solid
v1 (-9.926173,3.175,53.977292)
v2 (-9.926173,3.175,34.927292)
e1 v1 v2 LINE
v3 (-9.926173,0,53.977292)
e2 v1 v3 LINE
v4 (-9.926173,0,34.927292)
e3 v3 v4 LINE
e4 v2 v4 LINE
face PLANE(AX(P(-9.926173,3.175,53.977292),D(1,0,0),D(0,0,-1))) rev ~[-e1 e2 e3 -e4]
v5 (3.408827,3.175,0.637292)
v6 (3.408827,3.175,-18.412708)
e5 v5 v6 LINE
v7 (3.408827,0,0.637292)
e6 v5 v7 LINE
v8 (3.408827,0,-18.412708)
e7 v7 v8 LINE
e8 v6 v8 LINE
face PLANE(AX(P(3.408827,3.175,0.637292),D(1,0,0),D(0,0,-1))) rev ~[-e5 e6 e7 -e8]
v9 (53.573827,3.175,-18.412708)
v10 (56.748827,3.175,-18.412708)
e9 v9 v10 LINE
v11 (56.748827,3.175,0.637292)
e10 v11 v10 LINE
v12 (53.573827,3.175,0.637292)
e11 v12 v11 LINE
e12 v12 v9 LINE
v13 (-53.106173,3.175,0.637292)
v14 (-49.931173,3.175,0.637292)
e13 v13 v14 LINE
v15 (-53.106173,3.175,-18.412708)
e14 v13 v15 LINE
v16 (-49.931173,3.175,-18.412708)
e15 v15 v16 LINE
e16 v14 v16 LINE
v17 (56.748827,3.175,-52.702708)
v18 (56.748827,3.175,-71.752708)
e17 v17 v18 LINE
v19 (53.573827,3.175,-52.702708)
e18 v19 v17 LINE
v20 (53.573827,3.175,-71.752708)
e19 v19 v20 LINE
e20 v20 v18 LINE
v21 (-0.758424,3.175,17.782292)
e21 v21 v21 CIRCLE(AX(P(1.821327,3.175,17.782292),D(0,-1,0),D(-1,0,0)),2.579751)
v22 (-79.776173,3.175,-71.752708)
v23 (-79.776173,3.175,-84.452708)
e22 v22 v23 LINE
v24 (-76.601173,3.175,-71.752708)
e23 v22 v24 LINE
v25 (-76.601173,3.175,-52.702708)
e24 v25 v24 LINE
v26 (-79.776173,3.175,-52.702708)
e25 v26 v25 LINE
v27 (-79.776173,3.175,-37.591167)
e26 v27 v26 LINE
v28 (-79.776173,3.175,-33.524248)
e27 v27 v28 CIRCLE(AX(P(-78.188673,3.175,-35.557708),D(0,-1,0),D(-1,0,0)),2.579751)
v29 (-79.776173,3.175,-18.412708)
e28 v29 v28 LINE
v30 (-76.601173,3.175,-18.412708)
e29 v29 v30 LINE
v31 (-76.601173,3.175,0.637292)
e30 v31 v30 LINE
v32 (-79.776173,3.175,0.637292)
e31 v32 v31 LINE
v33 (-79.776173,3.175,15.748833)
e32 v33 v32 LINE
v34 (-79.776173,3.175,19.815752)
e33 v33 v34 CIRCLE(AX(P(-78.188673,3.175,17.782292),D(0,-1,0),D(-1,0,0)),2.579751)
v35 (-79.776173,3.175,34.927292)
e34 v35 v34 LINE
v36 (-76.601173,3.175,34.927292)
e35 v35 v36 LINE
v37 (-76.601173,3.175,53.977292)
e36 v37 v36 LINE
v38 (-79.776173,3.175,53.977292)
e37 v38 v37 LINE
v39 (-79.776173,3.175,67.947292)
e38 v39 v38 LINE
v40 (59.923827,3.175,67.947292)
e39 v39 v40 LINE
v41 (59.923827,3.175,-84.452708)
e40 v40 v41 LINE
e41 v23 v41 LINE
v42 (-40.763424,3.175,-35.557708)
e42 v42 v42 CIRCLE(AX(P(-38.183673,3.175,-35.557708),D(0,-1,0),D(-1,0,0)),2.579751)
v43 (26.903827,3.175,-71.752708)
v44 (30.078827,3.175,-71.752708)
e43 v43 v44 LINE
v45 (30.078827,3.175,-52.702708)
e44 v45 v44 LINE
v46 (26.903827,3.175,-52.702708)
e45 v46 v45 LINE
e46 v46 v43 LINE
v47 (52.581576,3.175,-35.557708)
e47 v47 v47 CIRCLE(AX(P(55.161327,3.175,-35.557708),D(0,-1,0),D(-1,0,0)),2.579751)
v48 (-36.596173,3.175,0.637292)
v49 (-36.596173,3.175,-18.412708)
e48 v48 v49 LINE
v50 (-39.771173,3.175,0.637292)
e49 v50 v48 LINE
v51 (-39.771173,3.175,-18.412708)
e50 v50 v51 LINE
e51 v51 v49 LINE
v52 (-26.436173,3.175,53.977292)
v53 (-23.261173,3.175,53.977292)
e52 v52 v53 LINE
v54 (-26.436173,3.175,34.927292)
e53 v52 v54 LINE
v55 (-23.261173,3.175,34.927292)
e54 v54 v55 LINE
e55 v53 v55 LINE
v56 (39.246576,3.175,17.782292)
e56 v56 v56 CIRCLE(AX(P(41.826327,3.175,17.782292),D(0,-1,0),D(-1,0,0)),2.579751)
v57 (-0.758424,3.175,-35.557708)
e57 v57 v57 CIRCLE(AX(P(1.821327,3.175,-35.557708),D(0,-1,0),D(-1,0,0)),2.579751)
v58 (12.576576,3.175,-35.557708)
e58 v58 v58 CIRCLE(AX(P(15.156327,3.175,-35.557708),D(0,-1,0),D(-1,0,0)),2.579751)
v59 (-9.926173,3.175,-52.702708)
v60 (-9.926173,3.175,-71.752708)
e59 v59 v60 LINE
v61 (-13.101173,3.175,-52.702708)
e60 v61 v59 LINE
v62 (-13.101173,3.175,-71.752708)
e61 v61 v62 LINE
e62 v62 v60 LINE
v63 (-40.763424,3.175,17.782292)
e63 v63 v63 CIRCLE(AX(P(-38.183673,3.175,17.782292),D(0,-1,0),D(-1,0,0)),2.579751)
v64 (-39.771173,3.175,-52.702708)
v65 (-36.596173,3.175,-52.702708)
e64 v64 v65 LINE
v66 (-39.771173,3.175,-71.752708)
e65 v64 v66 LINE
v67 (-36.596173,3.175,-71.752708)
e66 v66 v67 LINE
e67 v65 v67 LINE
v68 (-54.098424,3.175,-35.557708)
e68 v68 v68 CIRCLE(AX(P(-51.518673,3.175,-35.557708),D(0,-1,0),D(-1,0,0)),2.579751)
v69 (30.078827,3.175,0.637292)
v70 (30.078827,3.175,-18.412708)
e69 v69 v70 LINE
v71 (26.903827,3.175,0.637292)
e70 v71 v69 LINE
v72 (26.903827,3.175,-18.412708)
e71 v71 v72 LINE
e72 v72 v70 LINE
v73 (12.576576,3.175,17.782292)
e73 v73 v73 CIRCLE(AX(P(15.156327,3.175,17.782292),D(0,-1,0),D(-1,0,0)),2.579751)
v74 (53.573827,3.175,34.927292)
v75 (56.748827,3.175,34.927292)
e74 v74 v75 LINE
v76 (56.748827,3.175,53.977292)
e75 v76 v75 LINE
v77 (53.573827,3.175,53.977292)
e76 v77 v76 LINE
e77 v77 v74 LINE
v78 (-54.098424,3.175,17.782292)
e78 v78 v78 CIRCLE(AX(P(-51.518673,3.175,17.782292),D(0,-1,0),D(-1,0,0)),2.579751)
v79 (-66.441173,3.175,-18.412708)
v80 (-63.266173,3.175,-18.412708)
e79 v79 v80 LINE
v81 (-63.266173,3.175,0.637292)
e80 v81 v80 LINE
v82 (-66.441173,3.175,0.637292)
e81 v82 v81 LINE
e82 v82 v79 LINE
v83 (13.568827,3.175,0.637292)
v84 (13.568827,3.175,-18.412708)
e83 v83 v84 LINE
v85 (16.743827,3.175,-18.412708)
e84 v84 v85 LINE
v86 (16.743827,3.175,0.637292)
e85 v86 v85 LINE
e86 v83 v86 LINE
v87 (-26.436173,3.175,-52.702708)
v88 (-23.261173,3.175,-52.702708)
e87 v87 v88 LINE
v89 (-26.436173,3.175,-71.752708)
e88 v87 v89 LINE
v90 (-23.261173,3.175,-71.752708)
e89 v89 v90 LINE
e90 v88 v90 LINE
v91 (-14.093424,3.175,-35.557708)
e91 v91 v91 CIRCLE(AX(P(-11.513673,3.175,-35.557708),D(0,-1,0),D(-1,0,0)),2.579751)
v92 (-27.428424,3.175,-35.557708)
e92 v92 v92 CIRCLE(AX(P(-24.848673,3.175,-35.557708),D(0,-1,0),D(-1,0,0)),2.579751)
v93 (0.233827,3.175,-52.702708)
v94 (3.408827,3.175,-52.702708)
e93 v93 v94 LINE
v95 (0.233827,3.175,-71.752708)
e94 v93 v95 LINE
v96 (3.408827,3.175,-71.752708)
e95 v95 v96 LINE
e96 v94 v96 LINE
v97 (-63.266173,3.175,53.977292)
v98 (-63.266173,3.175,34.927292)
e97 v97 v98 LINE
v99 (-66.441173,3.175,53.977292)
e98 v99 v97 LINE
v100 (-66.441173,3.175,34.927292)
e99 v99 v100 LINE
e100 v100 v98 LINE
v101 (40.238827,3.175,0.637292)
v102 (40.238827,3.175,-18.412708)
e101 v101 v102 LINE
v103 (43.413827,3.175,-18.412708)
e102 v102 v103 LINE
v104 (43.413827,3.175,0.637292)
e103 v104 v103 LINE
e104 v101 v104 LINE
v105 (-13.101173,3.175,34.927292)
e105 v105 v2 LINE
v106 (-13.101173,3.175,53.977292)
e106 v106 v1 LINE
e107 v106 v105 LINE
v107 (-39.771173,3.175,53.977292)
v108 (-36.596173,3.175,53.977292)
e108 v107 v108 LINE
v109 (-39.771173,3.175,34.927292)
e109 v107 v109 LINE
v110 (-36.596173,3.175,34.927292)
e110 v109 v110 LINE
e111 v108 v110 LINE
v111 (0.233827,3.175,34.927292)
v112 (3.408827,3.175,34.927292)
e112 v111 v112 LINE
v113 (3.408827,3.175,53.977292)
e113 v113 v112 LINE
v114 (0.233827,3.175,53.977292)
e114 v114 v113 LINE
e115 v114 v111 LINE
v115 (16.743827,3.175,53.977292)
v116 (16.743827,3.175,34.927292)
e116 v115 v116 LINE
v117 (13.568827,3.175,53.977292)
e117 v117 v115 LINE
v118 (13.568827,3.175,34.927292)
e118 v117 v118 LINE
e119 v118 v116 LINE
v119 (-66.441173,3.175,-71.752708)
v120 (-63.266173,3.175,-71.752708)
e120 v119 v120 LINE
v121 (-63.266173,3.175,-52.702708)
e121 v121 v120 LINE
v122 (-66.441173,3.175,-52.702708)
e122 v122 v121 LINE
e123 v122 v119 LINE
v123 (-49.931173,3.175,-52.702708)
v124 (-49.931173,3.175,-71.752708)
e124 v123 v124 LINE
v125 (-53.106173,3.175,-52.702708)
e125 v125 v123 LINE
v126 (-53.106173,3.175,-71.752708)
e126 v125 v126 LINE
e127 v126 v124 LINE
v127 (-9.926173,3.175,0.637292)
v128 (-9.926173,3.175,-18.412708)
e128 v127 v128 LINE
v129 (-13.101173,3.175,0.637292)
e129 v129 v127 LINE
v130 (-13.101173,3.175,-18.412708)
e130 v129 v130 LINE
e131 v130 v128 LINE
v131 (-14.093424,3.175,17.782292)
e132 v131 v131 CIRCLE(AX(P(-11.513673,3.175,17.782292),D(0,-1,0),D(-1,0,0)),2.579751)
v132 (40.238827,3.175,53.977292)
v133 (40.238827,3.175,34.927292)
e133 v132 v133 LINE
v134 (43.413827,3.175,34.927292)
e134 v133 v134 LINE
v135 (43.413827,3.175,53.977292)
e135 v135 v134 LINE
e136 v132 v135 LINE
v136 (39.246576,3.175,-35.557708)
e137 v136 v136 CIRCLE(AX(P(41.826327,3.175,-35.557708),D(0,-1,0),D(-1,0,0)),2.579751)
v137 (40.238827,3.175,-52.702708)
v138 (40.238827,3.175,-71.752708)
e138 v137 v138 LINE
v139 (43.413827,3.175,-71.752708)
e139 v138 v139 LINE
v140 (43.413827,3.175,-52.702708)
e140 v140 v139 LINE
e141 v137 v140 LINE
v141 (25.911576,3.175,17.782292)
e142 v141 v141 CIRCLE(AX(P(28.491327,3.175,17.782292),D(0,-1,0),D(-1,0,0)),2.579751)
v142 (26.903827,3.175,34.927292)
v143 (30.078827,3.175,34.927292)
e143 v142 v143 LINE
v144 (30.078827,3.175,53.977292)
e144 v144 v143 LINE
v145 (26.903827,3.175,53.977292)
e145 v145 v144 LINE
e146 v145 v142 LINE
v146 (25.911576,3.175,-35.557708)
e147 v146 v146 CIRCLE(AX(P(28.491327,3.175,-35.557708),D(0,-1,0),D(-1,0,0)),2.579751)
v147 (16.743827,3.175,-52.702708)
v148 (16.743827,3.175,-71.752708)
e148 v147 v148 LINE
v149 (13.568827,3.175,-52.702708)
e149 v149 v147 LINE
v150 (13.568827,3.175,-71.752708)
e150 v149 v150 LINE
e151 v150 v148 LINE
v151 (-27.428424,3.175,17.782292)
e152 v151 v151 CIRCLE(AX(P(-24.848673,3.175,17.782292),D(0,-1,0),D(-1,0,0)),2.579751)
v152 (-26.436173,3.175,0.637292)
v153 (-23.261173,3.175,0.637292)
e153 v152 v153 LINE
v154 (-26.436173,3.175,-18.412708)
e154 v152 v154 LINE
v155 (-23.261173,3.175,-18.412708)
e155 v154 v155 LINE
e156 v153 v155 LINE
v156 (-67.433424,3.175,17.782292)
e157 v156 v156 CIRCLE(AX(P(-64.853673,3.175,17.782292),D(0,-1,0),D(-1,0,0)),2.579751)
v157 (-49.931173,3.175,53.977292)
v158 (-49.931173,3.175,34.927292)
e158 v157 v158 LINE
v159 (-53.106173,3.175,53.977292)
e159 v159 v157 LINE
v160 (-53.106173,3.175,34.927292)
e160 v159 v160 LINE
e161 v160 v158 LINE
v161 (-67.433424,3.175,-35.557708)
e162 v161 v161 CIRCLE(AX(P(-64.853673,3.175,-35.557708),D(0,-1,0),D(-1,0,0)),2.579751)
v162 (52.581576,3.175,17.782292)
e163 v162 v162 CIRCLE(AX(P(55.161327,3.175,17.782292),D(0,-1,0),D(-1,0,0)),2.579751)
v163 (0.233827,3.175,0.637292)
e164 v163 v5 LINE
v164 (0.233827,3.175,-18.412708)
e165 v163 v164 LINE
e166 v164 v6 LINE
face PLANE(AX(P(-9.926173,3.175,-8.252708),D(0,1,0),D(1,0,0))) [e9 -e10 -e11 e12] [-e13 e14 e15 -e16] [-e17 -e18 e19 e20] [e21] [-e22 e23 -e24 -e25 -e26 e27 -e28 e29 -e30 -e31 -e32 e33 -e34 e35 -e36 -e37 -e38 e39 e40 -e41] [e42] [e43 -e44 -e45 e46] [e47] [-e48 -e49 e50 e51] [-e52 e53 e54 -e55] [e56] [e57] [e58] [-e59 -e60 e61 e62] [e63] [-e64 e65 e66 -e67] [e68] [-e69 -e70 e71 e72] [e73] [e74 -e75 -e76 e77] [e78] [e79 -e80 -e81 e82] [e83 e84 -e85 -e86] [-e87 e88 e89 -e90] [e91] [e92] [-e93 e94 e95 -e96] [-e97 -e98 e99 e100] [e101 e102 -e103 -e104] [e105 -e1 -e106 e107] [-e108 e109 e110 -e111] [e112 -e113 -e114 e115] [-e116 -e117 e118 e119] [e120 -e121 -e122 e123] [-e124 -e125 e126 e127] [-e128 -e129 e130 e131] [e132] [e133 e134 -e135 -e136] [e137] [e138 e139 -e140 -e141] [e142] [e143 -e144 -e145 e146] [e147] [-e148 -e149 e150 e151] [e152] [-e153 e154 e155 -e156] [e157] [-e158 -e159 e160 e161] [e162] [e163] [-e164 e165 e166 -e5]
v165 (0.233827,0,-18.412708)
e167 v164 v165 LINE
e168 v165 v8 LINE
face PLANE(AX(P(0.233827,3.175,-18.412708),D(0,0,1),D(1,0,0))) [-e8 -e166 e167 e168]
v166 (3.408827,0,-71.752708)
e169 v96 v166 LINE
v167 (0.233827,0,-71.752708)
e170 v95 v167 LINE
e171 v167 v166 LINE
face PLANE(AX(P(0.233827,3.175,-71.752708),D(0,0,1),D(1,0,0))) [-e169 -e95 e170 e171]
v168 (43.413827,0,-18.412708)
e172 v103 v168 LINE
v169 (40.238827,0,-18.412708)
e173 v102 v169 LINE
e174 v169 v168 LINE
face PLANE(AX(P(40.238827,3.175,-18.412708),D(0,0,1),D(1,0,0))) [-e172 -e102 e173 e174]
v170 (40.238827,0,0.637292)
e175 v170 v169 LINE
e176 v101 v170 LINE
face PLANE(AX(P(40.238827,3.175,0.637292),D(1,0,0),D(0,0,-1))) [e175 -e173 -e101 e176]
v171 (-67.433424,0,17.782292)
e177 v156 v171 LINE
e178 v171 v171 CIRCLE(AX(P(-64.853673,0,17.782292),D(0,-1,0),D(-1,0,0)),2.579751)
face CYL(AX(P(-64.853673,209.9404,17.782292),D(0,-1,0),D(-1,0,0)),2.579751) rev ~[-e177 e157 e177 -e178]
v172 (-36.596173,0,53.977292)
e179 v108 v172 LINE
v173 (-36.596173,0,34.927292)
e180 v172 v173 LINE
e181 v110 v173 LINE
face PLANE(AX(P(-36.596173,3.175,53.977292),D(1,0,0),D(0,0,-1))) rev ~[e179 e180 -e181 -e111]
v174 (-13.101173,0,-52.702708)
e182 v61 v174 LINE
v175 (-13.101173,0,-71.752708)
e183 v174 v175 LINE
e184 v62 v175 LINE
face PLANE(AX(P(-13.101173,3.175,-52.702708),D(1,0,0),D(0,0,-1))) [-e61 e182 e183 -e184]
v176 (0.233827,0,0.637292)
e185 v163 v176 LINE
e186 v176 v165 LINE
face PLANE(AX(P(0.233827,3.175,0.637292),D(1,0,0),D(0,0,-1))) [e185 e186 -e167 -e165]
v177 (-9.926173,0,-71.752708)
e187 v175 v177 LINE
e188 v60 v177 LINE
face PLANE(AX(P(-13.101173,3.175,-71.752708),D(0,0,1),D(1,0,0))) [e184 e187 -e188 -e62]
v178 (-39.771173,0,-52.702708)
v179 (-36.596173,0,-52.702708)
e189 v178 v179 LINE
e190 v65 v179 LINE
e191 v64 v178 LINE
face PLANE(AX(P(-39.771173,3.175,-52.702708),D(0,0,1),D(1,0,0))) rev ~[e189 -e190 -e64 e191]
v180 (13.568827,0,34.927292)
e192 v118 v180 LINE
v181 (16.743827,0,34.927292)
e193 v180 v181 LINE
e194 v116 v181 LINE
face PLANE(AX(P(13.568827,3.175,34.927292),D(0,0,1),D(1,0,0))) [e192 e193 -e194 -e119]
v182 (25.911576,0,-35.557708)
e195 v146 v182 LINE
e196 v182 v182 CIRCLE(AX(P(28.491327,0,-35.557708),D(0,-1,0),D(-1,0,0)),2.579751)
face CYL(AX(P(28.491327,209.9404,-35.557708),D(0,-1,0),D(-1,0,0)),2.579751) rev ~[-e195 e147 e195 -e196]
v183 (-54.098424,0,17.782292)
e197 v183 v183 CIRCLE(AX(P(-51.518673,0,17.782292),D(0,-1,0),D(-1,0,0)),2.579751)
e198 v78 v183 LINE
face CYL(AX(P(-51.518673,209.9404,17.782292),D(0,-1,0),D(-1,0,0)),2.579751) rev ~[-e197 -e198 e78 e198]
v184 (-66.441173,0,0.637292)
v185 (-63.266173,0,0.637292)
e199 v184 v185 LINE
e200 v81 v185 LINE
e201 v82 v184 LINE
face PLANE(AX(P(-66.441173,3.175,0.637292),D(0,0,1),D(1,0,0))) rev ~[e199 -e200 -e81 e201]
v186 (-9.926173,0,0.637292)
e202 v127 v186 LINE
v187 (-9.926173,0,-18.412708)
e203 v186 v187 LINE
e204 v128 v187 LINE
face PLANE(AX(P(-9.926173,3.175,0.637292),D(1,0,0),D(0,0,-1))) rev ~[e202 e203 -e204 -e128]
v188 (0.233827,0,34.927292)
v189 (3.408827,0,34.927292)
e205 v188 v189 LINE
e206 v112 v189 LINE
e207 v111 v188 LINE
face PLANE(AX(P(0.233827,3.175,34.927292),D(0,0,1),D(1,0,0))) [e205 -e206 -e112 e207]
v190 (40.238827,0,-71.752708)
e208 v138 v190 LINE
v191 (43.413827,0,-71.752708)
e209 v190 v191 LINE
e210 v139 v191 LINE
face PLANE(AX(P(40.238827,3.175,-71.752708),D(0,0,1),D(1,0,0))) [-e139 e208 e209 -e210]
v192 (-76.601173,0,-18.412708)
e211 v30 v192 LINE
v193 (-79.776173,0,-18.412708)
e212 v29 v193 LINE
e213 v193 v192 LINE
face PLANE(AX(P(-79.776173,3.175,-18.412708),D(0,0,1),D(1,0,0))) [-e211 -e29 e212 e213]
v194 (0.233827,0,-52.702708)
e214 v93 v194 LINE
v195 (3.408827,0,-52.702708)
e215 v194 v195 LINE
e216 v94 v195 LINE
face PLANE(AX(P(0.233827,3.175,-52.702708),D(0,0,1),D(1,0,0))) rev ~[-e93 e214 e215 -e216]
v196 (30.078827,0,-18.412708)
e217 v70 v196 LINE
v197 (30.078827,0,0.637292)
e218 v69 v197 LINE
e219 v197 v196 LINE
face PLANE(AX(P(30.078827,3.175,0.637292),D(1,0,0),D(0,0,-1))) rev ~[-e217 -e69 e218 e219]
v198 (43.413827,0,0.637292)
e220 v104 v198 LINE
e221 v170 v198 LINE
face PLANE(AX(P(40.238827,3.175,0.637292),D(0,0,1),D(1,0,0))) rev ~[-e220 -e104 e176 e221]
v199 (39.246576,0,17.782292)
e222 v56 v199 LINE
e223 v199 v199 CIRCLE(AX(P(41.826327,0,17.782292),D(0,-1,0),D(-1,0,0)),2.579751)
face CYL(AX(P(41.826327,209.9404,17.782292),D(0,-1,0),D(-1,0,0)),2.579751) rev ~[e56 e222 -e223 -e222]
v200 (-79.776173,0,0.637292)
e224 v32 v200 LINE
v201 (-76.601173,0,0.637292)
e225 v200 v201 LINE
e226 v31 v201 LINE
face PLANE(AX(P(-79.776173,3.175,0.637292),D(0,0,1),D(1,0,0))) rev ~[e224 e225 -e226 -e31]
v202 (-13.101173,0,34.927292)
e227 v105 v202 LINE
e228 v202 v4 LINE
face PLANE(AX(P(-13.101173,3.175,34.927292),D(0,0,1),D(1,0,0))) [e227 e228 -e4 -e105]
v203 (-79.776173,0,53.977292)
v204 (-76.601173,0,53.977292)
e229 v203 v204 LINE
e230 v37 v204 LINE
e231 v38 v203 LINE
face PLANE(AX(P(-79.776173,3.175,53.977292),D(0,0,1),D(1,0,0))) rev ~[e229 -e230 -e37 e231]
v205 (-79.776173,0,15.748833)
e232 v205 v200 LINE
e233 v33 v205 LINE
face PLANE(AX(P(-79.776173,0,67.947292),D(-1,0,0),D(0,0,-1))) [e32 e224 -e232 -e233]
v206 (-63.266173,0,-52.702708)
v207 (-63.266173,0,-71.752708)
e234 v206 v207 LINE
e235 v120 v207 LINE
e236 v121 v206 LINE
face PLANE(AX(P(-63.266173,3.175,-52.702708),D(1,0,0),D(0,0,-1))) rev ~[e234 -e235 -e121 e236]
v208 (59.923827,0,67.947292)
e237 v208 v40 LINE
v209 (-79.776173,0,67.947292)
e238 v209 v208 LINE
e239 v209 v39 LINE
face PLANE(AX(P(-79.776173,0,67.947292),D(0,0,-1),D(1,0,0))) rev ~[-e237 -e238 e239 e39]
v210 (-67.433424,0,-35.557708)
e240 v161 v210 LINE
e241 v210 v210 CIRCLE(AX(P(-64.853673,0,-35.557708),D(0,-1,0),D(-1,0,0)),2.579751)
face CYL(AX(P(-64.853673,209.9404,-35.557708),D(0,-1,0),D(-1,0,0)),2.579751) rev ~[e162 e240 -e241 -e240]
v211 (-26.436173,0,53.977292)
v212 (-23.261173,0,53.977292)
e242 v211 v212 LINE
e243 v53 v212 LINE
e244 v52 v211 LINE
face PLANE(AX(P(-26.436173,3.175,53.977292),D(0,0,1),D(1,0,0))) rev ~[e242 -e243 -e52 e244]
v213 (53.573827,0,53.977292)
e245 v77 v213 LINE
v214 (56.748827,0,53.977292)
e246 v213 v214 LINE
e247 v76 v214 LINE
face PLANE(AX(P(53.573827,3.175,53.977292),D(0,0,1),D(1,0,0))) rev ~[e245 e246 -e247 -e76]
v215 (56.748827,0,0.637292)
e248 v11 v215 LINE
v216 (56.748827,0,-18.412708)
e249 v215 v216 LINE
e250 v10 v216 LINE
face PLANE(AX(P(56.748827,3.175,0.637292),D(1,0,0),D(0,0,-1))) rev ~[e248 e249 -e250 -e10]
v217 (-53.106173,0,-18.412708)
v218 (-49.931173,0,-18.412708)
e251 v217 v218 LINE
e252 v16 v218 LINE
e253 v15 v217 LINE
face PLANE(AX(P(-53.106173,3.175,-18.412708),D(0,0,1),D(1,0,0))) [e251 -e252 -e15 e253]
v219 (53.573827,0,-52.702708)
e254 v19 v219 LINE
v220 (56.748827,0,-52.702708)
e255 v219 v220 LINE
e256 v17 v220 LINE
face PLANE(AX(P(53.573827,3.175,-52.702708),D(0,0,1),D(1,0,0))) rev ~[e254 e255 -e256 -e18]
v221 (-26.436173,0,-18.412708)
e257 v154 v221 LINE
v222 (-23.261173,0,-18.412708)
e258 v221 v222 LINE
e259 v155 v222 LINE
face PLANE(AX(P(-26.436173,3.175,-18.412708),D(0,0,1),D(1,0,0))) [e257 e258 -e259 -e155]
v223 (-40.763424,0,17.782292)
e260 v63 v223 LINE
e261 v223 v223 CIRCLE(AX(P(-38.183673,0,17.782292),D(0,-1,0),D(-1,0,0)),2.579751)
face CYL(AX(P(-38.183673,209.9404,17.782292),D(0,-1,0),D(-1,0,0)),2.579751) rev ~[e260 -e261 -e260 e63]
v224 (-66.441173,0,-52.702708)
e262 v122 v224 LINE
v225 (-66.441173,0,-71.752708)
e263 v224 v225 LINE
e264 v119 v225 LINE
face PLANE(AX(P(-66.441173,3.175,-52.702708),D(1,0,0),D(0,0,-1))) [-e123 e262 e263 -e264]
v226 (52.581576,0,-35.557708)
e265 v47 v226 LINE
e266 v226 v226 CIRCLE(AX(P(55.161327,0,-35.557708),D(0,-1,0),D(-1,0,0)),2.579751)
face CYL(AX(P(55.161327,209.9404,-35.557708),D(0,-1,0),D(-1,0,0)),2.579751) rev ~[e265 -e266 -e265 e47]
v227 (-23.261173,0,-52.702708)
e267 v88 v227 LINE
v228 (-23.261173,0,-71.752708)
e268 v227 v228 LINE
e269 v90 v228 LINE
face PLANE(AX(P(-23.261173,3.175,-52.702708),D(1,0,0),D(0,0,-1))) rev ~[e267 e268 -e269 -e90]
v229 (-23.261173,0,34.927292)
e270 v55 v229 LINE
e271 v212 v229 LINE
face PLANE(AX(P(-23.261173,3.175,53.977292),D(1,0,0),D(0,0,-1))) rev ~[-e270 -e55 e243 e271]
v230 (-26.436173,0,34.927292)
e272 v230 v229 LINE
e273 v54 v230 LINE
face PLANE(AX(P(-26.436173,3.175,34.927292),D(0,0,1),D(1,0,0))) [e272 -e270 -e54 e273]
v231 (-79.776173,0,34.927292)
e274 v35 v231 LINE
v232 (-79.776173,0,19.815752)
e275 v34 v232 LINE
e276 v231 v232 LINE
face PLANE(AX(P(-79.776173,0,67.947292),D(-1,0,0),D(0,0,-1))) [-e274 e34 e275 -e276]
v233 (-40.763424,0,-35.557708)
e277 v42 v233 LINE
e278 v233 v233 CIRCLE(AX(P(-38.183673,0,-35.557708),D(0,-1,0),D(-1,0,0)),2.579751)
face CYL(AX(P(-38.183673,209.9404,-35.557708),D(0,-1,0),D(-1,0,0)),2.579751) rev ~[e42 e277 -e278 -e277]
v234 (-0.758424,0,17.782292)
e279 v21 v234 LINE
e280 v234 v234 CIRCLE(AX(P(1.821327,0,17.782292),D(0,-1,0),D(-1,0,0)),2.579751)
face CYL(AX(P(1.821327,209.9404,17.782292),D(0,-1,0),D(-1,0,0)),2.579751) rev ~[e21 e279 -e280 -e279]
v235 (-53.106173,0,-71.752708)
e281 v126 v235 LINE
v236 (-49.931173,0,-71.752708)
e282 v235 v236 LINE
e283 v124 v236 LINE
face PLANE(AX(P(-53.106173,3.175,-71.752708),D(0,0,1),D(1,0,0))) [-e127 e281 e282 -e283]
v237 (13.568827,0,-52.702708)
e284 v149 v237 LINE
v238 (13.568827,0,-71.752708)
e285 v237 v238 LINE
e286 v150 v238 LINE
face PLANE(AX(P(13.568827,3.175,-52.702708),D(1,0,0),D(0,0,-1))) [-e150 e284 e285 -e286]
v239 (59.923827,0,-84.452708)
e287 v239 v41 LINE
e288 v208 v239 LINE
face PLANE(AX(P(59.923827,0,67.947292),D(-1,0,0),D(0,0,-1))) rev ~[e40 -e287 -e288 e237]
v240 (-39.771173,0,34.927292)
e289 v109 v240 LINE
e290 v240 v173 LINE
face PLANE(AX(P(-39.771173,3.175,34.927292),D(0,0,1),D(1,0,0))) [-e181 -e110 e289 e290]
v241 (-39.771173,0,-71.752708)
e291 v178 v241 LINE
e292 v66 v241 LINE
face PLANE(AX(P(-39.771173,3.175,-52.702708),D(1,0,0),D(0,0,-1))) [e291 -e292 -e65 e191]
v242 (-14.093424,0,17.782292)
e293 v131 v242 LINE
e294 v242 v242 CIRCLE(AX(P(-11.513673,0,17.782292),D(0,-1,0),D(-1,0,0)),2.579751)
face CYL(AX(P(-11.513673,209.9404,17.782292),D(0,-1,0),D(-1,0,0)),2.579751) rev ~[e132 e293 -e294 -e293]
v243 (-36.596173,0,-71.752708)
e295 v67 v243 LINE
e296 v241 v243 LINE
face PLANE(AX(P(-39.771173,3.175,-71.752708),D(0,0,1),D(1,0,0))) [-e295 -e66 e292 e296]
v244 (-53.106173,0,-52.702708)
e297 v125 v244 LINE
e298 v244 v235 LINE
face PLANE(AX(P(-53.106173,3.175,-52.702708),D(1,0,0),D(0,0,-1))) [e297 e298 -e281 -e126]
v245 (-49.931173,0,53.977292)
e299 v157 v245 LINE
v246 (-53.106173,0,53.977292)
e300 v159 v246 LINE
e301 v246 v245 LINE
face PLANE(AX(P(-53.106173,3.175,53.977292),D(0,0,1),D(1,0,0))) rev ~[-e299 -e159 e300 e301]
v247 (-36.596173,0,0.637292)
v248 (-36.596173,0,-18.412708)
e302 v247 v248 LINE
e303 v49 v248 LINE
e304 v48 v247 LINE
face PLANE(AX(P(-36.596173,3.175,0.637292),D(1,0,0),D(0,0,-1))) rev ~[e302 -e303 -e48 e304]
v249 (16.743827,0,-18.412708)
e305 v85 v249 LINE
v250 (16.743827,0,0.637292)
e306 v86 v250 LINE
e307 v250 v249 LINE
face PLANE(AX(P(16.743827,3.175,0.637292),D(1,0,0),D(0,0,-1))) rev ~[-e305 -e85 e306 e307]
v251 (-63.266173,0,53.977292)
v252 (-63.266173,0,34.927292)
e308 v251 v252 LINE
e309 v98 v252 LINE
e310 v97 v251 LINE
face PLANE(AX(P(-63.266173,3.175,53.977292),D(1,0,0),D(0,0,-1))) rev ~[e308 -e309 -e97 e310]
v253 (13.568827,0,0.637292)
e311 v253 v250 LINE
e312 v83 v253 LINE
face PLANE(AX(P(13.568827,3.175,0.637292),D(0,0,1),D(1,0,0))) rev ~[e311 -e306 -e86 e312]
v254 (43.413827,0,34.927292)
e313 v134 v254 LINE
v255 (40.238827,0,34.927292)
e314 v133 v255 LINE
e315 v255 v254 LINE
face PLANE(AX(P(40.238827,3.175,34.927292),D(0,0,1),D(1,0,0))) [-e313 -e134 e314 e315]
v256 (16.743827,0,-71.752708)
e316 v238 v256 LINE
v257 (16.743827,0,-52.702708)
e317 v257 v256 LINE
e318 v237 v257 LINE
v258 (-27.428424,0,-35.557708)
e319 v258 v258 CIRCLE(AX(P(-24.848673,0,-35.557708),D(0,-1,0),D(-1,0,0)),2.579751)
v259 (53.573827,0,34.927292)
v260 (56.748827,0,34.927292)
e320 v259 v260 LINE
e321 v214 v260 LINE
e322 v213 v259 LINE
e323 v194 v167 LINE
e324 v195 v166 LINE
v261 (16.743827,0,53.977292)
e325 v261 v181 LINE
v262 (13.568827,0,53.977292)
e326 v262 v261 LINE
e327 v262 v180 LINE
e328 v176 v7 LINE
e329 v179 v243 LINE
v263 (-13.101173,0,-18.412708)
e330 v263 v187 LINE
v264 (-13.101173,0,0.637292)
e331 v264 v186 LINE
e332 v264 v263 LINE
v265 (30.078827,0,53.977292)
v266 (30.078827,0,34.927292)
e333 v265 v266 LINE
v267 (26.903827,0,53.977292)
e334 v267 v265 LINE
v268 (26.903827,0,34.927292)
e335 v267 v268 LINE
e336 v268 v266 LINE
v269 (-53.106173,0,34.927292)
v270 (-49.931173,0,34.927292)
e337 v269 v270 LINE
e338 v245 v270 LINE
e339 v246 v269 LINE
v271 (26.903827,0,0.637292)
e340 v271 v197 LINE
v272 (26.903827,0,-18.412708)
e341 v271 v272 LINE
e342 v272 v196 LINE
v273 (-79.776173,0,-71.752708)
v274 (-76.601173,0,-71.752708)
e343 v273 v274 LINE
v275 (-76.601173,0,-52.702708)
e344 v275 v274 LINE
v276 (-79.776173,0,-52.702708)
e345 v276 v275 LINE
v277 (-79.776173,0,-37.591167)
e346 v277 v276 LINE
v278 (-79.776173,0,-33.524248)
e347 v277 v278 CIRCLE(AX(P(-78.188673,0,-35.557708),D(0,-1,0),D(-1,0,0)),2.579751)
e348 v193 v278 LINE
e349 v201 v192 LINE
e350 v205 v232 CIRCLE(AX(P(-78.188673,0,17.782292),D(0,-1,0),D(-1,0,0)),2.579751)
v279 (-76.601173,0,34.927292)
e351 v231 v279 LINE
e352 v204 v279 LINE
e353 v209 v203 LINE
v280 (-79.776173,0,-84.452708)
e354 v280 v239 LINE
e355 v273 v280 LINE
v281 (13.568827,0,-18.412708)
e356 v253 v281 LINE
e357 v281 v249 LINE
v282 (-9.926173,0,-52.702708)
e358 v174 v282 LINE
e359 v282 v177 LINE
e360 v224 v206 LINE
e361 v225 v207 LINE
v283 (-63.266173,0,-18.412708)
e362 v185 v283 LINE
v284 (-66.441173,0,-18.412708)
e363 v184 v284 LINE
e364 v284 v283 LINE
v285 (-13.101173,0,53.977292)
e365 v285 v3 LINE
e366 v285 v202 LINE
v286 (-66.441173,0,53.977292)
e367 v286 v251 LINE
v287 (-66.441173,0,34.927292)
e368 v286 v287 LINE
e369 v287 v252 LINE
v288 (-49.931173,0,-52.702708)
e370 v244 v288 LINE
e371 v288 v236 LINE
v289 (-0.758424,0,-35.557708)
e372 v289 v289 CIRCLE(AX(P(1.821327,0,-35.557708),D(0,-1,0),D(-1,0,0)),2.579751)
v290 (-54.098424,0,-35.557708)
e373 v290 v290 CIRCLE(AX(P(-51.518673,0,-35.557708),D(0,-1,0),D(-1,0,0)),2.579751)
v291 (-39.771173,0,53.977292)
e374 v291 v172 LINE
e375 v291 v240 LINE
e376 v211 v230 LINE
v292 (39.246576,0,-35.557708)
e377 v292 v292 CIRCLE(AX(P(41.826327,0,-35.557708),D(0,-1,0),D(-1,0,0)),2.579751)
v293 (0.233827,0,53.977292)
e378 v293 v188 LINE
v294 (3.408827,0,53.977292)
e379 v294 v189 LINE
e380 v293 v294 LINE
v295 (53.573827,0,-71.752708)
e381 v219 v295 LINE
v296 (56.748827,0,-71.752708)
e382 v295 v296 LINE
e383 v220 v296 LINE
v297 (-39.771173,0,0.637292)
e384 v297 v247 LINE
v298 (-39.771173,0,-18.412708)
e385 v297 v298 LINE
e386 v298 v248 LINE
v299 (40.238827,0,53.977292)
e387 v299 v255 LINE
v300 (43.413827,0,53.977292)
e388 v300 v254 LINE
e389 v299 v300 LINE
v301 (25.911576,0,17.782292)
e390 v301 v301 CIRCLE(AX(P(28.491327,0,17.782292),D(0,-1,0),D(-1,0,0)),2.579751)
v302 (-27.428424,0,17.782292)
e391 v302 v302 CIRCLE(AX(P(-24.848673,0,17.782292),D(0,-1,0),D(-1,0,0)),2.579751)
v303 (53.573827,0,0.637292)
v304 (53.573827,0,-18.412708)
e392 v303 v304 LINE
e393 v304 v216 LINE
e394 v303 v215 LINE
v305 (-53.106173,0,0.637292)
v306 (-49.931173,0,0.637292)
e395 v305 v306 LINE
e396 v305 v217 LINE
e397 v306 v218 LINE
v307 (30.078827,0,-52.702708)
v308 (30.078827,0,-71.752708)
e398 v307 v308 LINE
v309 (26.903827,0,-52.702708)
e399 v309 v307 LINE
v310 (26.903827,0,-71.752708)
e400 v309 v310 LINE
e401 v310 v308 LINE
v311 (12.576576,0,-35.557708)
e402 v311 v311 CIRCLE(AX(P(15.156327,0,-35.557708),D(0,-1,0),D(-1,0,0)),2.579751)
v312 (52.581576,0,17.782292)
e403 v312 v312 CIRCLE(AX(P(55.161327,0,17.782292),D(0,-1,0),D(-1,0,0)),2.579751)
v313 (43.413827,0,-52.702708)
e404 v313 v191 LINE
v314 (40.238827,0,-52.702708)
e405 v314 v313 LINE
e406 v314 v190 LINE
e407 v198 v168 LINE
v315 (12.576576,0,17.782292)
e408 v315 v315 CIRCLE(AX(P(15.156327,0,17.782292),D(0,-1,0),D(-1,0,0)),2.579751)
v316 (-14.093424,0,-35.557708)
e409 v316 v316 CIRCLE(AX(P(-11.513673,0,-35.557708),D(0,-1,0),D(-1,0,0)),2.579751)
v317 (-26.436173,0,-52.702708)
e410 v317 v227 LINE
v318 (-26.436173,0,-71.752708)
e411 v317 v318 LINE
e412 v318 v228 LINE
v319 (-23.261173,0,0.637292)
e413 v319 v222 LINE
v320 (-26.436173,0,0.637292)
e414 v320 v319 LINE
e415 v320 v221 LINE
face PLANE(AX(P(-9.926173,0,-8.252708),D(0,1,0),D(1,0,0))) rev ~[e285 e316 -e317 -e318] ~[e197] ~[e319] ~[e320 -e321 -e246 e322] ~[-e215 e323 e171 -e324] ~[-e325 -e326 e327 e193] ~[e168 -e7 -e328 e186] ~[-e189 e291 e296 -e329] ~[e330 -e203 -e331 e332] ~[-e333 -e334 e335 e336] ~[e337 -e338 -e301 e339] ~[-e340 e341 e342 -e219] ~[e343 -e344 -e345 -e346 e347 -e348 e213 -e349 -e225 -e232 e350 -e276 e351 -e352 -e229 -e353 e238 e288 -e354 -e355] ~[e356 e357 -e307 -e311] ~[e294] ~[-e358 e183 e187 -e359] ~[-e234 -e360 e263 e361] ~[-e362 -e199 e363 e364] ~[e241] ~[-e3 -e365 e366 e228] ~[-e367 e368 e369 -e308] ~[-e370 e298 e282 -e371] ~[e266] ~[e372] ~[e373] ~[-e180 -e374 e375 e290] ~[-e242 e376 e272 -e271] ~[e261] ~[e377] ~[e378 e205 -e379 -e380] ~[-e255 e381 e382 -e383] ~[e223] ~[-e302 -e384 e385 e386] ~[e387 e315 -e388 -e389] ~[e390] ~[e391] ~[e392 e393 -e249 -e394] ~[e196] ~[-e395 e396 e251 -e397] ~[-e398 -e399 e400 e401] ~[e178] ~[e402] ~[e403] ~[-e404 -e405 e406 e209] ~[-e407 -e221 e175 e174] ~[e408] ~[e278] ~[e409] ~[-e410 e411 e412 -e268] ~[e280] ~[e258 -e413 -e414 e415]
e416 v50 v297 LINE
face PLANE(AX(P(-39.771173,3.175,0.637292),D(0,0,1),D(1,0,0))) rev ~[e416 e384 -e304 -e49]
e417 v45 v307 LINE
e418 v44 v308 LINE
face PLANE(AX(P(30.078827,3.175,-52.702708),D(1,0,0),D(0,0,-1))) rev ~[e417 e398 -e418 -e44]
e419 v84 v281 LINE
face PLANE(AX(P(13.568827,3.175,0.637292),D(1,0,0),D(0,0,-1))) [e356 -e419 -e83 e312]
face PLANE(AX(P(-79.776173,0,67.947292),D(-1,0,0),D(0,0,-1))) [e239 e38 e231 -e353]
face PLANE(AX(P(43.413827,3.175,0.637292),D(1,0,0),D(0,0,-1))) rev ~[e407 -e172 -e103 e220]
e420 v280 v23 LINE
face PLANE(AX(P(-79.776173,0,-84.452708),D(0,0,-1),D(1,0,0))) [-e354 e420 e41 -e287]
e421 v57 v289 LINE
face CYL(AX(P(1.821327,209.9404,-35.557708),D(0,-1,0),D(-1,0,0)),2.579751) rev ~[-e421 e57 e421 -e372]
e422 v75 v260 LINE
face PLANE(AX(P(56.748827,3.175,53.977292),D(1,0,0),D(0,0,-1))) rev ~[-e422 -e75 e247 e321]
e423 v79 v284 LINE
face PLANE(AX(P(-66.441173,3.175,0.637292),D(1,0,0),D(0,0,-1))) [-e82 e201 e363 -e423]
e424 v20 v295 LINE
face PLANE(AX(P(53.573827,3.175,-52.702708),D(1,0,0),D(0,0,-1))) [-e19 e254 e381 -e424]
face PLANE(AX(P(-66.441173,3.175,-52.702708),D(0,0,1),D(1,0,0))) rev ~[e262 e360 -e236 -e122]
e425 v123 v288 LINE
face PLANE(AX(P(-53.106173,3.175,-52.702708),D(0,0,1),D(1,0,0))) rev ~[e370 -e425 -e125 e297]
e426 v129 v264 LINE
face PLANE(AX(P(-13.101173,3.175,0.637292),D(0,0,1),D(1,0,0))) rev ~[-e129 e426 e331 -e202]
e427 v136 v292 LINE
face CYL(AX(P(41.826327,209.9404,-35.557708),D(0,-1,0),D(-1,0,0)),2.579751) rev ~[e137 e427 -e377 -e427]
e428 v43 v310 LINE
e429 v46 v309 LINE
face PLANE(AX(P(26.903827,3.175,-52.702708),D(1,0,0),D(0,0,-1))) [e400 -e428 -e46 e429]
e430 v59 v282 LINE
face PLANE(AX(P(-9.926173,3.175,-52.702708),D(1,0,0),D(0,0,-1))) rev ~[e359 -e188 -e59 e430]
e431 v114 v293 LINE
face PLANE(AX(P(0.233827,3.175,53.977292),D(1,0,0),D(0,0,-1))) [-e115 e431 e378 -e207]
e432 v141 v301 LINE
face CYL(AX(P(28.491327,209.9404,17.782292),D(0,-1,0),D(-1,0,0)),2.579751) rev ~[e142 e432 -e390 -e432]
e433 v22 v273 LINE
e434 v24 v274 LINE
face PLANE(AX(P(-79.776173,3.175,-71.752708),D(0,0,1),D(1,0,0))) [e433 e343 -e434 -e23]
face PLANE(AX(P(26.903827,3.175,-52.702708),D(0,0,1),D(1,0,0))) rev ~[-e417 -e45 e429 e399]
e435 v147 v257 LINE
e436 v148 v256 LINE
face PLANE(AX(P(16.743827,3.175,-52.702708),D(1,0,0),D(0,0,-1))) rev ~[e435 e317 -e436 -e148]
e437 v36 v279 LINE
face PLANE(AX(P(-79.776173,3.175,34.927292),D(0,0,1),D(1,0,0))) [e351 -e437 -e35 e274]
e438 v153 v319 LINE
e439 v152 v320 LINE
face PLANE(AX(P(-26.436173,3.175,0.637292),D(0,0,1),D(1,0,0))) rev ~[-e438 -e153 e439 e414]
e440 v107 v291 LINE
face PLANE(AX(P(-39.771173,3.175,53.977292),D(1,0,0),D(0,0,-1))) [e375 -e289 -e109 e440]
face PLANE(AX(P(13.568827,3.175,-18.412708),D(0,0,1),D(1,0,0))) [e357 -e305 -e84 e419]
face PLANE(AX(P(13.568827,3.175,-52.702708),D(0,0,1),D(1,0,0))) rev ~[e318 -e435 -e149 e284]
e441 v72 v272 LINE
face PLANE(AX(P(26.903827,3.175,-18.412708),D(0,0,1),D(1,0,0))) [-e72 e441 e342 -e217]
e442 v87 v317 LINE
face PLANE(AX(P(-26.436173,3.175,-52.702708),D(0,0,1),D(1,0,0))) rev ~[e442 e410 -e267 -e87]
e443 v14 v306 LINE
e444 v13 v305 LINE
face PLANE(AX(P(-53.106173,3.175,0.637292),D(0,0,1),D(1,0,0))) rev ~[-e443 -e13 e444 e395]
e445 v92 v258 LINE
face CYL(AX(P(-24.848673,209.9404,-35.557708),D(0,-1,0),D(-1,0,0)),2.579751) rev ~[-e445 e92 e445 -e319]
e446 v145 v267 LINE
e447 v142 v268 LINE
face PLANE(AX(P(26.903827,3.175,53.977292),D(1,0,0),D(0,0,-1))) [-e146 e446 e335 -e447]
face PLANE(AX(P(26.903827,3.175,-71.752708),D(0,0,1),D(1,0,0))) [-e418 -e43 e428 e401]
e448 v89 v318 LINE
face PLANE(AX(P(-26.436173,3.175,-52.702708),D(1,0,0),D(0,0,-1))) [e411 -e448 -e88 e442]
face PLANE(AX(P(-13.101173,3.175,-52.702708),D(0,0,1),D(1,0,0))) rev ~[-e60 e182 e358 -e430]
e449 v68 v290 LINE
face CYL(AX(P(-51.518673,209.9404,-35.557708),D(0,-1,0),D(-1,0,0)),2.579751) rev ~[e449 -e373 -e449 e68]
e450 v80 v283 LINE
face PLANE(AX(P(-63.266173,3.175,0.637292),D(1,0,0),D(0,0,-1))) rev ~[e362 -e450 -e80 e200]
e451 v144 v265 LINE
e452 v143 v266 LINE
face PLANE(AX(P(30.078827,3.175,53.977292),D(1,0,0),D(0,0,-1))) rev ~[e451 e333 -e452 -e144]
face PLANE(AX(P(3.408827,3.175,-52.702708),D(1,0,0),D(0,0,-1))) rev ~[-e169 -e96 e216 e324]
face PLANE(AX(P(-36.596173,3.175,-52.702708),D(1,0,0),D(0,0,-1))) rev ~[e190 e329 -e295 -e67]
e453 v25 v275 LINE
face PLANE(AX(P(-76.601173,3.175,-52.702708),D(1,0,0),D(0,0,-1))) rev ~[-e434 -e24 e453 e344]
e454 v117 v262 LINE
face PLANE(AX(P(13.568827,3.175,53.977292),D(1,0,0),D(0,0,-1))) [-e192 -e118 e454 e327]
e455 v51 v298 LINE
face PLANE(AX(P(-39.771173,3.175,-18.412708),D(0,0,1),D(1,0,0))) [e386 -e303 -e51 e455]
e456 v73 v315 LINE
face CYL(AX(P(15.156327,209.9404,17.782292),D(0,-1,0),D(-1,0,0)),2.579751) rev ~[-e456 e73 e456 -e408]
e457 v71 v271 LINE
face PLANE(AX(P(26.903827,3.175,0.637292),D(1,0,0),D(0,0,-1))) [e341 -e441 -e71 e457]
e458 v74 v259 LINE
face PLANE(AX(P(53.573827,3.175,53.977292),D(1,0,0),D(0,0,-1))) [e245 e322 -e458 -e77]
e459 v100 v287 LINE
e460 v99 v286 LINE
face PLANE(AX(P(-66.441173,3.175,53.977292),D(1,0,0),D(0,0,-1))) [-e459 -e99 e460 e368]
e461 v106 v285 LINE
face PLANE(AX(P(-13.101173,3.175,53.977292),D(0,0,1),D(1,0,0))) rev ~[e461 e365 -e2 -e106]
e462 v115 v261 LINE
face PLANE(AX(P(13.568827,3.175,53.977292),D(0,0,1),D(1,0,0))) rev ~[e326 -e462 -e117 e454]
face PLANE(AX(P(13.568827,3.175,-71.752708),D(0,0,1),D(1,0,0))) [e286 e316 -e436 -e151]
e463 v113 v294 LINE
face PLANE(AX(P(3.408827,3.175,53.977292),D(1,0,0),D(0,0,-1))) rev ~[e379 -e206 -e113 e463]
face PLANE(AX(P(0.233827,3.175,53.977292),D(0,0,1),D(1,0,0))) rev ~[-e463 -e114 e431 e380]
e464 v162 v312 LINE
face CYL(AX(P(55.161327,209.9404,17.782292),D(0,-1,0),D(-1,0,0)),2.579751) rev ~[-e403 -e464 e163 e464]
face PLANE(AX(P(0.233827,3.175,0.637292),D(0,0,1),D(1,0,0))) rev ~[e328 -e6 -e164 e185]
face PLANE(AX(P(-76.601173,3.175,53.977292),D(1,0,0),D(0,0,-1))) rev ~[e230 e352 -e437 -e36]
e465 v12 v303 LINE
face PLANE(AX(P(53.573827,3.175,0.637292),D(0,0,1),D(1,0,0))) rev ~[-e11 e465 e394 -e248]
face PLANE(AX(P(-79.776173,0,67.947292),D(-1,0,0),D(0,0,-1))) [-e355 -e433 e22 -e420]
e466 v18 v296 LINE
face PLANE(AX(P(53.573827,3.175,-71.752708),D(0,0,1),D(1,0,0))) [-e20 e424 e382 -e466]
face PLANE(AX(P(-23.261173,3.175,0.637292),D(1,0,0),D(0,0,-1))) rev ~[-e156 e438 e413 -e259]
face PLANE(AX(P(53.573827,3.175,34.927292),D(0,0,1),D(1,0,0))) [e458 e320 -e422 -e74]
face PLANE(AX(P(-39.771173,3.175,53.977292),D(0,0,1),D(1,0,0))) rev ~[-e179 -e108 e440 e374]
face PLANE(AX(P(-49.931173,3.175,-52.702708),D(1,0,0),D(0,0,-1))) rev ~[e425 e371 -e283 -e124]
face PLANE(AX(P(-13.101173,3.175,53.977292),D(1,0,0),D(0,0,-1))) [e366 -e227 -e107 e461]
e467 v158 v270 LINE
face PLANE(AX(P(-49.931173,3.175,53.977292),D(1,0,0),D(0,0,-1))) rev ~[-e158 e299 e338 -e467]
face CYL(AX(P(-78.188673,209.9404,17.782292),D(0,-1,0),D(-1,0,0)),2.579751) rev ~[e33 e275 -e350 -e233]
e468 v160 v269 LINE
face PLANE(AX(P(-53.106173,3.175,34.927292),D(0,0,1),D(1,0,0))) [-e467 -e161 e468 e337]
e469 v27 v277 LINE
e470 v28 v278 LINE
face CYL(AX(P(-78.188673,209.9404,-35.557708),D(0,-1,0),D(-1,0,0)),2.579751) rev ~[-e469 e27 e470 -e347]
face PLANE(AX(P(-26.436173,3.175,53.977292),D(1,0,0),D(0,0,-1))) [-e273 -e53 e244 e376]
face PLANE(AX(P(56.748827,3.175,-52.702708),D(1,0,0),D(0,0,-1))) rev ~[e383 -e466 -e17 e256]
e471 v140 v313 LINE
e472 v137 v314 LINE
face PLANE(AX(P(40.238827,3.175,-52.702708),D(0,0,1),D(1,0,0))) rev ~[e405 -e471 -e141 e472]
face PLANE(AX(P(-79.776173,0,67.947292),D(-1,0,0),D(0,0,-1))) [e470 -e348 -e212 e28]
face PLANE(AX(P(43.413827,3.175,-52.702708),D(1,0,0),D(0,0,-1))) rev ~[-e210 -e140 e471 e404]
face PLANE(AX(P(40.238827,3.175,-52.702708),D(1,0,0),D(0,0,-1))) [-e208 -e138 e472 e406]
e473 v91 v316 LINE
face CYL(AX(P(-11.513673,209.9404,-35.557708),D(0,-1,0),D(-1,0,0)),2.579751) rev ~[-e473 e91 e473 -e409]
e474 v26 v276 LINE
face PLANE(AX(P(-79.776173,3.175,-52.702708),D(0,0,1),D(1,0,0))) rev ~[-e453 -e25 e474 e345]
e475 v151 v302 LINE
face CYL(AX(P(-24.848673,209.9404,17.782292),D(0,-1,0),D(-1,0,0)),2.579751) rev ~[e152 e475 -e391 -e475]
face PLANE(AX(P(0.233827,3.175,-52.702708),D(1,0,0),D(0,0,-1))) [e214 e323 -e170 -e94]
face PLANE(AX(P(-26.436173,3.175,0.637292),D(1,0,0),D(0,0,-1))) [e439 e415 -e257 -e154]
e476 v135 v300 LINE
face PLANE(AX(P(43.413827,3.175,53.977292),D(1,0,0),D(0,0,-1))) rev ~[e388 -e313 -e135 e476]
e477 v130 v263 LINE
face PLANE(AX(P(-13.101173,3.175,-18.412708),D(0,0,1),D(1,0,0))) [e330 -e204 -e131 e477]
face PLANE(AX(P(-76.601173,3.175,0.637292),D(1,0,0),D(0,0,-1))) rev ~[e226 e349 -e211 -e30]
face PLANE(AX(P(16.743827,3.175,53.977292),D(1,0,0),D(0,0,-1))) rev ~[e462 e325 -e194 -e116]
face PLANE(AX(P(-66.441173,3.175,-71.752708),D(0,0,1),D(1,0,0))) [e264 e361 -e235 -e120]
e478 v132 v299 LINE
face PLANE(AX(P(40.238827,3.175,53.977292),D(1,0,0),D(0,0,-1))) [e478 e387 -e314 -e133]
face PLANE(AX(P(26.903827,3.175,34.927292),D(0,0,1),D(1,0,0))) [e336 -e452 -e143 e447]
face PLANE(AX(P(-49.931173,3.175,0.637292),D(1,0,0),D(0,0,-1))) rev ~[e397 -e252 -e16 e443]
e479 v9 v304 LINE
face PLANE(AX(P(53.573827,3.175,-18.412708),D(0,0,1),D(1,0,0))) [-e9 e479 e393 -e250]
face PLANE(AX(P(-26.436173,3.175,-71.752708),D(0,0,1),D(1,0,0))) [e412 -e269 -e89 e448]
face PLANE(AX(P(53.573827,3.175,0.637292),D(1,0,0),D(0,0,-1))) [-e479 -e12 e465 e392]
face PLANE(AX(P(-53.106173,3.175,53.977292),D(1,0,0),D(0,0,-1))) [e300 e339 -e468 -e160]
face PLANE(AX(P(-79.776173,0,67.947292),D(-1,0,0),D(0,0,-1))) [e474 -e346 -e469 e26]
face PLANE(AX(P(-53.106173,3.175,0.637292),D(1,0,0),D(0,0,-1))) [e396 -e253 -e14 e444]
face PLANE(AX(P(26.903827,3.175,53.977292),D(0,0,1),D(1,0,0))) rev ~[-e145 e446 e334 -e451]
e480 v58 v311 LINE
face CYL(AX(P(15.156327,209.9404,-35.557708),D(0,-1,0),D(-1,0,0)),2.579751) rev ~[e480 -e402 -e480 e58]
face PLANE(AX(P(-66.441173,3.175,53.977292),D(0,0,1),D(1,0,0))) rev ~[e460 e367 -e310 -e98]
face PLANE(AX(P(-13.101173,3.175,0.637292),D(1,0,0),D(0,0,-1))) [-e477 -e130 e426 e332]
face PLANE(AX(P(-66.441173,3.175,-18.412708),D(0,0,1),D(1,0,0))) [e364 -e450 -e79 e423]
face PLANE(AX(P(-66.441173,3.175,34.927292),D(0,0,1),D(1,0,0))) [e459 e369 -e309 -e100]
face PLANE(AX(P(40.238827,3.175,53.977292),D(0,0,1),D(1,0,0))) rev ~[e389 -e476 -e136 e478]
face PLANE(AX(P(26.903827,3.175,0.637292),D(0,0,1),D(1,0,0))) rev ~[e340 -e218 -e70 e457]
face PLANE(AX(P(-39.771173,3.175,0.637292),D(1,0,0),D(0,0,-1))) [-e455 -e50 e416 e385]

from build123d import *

# Parameters (mm, degrees)
SKETCH1_W                        = 139.7
SKETCH1_H                        = 152.4
BOSS_EXTRUDE1_DEPTH              = 3.175
SKETCH2_W                        = 3.175
SKETCH2_H                        = 19.05
CUT_EXTRUDE1_DEPTH               = 117.217805292
LPATTERN1_COUNT                  = 11
LPATTERN1_PITCH                  = 13.335
F_13_64_0_20313_DIAMETER_HOLE1_D = 5.159502
LPATTERN2_COUNT                  = 2
LPATTERN2_PITCH                  = 53.34


with BuildPart() as part:
    # Sketch1 → Boss-Extrude1 (new body)
    with BuildSketch(Plane(origin=(0, 0, 0), x_dir=(1, 0, 0), z_dir=(0, 1, 0))):
        with Locations((-9.926173285, 8.252707581)):
            Rectangle(SKETCH1_W, SKETCH1_H)
    extrude(amount=BOSS_EXTRUDE1_DEPTH)

    # Sketch2 → Cut-Extrude1 (cut, through all)
    with BuildSketch(Plane(origin=(0, 3.175, 0), x_dir=(1, 0, 0), z_dir=(0, 1, 0))):
        with Locations((-78.188673285, 62.227707581)):
            Rectangle(SKETCH2_W, SKETCH2_H)
        with Locations((-78.188673285, 8.887707581)):
            Rectangle(SKETCH2_W, SKETCH2_H)
        with Locations((-78.188673285, -44.452292419)):
            Rectangle(SKETCH2_W, SKETCH2_H)
    cut_extrude1 = extrude(amount=-CUT_EXTRUDE1_DEPTH, mode=Mode.SUBTRACT)

    # LPattern1: Cut-Extrude1 ×11
    with Locations(*[(i * LPATTERN1_PITCH, 0, 0) for i in range(1, LPATTERN1_COUNT)]):
        add(cut_extrude1, mode=Mode.SUBTRACT)

    # 13/64 (0.20313) Diameter Hole1 (through all)
    with Locations(Plane(origin=(0, 3.175, 0), x_dir=(1, 0, 0), z_dir=(0, 1, 0))):
        with Locations((55.161326715, -17.782292419), (41.826326715, -17.782292419), (28.491326715, -17.782292419), (15.156326715, -17.782292419), (1.821326715, -17.782292419), (-11.513673285, -17.782292419), (-24.848673285, -17.782292419), (-38.183673285, -17.782292419), (-51.518673285, -17.782292419), (-64.853673285, -17.782292419), (-78.188673285, -17.782292419), (-91.523673285, -17.782292419), (-104.858673285, -17.782292419), (-118.193673285, -17.782292419), (-131.528673285, -17.782292419)):
            f_13_64_0_20313_diameter_hole1 = Hole(F_13_64_0_20313_DIAMETER_HOLE1_D / 2)

    # LPattern2: 13/64 (0.20313) Diameter Hole1 ×2
    with Locations(*[(0, 0, -i * LPATTERN2_PITCH) for i in range(1, LPATTERN2_COUNT)]):
        add(f_13_64_0_20313_diameter_hole1, mode=Mode.SUBTRACT)


solid = part.part
